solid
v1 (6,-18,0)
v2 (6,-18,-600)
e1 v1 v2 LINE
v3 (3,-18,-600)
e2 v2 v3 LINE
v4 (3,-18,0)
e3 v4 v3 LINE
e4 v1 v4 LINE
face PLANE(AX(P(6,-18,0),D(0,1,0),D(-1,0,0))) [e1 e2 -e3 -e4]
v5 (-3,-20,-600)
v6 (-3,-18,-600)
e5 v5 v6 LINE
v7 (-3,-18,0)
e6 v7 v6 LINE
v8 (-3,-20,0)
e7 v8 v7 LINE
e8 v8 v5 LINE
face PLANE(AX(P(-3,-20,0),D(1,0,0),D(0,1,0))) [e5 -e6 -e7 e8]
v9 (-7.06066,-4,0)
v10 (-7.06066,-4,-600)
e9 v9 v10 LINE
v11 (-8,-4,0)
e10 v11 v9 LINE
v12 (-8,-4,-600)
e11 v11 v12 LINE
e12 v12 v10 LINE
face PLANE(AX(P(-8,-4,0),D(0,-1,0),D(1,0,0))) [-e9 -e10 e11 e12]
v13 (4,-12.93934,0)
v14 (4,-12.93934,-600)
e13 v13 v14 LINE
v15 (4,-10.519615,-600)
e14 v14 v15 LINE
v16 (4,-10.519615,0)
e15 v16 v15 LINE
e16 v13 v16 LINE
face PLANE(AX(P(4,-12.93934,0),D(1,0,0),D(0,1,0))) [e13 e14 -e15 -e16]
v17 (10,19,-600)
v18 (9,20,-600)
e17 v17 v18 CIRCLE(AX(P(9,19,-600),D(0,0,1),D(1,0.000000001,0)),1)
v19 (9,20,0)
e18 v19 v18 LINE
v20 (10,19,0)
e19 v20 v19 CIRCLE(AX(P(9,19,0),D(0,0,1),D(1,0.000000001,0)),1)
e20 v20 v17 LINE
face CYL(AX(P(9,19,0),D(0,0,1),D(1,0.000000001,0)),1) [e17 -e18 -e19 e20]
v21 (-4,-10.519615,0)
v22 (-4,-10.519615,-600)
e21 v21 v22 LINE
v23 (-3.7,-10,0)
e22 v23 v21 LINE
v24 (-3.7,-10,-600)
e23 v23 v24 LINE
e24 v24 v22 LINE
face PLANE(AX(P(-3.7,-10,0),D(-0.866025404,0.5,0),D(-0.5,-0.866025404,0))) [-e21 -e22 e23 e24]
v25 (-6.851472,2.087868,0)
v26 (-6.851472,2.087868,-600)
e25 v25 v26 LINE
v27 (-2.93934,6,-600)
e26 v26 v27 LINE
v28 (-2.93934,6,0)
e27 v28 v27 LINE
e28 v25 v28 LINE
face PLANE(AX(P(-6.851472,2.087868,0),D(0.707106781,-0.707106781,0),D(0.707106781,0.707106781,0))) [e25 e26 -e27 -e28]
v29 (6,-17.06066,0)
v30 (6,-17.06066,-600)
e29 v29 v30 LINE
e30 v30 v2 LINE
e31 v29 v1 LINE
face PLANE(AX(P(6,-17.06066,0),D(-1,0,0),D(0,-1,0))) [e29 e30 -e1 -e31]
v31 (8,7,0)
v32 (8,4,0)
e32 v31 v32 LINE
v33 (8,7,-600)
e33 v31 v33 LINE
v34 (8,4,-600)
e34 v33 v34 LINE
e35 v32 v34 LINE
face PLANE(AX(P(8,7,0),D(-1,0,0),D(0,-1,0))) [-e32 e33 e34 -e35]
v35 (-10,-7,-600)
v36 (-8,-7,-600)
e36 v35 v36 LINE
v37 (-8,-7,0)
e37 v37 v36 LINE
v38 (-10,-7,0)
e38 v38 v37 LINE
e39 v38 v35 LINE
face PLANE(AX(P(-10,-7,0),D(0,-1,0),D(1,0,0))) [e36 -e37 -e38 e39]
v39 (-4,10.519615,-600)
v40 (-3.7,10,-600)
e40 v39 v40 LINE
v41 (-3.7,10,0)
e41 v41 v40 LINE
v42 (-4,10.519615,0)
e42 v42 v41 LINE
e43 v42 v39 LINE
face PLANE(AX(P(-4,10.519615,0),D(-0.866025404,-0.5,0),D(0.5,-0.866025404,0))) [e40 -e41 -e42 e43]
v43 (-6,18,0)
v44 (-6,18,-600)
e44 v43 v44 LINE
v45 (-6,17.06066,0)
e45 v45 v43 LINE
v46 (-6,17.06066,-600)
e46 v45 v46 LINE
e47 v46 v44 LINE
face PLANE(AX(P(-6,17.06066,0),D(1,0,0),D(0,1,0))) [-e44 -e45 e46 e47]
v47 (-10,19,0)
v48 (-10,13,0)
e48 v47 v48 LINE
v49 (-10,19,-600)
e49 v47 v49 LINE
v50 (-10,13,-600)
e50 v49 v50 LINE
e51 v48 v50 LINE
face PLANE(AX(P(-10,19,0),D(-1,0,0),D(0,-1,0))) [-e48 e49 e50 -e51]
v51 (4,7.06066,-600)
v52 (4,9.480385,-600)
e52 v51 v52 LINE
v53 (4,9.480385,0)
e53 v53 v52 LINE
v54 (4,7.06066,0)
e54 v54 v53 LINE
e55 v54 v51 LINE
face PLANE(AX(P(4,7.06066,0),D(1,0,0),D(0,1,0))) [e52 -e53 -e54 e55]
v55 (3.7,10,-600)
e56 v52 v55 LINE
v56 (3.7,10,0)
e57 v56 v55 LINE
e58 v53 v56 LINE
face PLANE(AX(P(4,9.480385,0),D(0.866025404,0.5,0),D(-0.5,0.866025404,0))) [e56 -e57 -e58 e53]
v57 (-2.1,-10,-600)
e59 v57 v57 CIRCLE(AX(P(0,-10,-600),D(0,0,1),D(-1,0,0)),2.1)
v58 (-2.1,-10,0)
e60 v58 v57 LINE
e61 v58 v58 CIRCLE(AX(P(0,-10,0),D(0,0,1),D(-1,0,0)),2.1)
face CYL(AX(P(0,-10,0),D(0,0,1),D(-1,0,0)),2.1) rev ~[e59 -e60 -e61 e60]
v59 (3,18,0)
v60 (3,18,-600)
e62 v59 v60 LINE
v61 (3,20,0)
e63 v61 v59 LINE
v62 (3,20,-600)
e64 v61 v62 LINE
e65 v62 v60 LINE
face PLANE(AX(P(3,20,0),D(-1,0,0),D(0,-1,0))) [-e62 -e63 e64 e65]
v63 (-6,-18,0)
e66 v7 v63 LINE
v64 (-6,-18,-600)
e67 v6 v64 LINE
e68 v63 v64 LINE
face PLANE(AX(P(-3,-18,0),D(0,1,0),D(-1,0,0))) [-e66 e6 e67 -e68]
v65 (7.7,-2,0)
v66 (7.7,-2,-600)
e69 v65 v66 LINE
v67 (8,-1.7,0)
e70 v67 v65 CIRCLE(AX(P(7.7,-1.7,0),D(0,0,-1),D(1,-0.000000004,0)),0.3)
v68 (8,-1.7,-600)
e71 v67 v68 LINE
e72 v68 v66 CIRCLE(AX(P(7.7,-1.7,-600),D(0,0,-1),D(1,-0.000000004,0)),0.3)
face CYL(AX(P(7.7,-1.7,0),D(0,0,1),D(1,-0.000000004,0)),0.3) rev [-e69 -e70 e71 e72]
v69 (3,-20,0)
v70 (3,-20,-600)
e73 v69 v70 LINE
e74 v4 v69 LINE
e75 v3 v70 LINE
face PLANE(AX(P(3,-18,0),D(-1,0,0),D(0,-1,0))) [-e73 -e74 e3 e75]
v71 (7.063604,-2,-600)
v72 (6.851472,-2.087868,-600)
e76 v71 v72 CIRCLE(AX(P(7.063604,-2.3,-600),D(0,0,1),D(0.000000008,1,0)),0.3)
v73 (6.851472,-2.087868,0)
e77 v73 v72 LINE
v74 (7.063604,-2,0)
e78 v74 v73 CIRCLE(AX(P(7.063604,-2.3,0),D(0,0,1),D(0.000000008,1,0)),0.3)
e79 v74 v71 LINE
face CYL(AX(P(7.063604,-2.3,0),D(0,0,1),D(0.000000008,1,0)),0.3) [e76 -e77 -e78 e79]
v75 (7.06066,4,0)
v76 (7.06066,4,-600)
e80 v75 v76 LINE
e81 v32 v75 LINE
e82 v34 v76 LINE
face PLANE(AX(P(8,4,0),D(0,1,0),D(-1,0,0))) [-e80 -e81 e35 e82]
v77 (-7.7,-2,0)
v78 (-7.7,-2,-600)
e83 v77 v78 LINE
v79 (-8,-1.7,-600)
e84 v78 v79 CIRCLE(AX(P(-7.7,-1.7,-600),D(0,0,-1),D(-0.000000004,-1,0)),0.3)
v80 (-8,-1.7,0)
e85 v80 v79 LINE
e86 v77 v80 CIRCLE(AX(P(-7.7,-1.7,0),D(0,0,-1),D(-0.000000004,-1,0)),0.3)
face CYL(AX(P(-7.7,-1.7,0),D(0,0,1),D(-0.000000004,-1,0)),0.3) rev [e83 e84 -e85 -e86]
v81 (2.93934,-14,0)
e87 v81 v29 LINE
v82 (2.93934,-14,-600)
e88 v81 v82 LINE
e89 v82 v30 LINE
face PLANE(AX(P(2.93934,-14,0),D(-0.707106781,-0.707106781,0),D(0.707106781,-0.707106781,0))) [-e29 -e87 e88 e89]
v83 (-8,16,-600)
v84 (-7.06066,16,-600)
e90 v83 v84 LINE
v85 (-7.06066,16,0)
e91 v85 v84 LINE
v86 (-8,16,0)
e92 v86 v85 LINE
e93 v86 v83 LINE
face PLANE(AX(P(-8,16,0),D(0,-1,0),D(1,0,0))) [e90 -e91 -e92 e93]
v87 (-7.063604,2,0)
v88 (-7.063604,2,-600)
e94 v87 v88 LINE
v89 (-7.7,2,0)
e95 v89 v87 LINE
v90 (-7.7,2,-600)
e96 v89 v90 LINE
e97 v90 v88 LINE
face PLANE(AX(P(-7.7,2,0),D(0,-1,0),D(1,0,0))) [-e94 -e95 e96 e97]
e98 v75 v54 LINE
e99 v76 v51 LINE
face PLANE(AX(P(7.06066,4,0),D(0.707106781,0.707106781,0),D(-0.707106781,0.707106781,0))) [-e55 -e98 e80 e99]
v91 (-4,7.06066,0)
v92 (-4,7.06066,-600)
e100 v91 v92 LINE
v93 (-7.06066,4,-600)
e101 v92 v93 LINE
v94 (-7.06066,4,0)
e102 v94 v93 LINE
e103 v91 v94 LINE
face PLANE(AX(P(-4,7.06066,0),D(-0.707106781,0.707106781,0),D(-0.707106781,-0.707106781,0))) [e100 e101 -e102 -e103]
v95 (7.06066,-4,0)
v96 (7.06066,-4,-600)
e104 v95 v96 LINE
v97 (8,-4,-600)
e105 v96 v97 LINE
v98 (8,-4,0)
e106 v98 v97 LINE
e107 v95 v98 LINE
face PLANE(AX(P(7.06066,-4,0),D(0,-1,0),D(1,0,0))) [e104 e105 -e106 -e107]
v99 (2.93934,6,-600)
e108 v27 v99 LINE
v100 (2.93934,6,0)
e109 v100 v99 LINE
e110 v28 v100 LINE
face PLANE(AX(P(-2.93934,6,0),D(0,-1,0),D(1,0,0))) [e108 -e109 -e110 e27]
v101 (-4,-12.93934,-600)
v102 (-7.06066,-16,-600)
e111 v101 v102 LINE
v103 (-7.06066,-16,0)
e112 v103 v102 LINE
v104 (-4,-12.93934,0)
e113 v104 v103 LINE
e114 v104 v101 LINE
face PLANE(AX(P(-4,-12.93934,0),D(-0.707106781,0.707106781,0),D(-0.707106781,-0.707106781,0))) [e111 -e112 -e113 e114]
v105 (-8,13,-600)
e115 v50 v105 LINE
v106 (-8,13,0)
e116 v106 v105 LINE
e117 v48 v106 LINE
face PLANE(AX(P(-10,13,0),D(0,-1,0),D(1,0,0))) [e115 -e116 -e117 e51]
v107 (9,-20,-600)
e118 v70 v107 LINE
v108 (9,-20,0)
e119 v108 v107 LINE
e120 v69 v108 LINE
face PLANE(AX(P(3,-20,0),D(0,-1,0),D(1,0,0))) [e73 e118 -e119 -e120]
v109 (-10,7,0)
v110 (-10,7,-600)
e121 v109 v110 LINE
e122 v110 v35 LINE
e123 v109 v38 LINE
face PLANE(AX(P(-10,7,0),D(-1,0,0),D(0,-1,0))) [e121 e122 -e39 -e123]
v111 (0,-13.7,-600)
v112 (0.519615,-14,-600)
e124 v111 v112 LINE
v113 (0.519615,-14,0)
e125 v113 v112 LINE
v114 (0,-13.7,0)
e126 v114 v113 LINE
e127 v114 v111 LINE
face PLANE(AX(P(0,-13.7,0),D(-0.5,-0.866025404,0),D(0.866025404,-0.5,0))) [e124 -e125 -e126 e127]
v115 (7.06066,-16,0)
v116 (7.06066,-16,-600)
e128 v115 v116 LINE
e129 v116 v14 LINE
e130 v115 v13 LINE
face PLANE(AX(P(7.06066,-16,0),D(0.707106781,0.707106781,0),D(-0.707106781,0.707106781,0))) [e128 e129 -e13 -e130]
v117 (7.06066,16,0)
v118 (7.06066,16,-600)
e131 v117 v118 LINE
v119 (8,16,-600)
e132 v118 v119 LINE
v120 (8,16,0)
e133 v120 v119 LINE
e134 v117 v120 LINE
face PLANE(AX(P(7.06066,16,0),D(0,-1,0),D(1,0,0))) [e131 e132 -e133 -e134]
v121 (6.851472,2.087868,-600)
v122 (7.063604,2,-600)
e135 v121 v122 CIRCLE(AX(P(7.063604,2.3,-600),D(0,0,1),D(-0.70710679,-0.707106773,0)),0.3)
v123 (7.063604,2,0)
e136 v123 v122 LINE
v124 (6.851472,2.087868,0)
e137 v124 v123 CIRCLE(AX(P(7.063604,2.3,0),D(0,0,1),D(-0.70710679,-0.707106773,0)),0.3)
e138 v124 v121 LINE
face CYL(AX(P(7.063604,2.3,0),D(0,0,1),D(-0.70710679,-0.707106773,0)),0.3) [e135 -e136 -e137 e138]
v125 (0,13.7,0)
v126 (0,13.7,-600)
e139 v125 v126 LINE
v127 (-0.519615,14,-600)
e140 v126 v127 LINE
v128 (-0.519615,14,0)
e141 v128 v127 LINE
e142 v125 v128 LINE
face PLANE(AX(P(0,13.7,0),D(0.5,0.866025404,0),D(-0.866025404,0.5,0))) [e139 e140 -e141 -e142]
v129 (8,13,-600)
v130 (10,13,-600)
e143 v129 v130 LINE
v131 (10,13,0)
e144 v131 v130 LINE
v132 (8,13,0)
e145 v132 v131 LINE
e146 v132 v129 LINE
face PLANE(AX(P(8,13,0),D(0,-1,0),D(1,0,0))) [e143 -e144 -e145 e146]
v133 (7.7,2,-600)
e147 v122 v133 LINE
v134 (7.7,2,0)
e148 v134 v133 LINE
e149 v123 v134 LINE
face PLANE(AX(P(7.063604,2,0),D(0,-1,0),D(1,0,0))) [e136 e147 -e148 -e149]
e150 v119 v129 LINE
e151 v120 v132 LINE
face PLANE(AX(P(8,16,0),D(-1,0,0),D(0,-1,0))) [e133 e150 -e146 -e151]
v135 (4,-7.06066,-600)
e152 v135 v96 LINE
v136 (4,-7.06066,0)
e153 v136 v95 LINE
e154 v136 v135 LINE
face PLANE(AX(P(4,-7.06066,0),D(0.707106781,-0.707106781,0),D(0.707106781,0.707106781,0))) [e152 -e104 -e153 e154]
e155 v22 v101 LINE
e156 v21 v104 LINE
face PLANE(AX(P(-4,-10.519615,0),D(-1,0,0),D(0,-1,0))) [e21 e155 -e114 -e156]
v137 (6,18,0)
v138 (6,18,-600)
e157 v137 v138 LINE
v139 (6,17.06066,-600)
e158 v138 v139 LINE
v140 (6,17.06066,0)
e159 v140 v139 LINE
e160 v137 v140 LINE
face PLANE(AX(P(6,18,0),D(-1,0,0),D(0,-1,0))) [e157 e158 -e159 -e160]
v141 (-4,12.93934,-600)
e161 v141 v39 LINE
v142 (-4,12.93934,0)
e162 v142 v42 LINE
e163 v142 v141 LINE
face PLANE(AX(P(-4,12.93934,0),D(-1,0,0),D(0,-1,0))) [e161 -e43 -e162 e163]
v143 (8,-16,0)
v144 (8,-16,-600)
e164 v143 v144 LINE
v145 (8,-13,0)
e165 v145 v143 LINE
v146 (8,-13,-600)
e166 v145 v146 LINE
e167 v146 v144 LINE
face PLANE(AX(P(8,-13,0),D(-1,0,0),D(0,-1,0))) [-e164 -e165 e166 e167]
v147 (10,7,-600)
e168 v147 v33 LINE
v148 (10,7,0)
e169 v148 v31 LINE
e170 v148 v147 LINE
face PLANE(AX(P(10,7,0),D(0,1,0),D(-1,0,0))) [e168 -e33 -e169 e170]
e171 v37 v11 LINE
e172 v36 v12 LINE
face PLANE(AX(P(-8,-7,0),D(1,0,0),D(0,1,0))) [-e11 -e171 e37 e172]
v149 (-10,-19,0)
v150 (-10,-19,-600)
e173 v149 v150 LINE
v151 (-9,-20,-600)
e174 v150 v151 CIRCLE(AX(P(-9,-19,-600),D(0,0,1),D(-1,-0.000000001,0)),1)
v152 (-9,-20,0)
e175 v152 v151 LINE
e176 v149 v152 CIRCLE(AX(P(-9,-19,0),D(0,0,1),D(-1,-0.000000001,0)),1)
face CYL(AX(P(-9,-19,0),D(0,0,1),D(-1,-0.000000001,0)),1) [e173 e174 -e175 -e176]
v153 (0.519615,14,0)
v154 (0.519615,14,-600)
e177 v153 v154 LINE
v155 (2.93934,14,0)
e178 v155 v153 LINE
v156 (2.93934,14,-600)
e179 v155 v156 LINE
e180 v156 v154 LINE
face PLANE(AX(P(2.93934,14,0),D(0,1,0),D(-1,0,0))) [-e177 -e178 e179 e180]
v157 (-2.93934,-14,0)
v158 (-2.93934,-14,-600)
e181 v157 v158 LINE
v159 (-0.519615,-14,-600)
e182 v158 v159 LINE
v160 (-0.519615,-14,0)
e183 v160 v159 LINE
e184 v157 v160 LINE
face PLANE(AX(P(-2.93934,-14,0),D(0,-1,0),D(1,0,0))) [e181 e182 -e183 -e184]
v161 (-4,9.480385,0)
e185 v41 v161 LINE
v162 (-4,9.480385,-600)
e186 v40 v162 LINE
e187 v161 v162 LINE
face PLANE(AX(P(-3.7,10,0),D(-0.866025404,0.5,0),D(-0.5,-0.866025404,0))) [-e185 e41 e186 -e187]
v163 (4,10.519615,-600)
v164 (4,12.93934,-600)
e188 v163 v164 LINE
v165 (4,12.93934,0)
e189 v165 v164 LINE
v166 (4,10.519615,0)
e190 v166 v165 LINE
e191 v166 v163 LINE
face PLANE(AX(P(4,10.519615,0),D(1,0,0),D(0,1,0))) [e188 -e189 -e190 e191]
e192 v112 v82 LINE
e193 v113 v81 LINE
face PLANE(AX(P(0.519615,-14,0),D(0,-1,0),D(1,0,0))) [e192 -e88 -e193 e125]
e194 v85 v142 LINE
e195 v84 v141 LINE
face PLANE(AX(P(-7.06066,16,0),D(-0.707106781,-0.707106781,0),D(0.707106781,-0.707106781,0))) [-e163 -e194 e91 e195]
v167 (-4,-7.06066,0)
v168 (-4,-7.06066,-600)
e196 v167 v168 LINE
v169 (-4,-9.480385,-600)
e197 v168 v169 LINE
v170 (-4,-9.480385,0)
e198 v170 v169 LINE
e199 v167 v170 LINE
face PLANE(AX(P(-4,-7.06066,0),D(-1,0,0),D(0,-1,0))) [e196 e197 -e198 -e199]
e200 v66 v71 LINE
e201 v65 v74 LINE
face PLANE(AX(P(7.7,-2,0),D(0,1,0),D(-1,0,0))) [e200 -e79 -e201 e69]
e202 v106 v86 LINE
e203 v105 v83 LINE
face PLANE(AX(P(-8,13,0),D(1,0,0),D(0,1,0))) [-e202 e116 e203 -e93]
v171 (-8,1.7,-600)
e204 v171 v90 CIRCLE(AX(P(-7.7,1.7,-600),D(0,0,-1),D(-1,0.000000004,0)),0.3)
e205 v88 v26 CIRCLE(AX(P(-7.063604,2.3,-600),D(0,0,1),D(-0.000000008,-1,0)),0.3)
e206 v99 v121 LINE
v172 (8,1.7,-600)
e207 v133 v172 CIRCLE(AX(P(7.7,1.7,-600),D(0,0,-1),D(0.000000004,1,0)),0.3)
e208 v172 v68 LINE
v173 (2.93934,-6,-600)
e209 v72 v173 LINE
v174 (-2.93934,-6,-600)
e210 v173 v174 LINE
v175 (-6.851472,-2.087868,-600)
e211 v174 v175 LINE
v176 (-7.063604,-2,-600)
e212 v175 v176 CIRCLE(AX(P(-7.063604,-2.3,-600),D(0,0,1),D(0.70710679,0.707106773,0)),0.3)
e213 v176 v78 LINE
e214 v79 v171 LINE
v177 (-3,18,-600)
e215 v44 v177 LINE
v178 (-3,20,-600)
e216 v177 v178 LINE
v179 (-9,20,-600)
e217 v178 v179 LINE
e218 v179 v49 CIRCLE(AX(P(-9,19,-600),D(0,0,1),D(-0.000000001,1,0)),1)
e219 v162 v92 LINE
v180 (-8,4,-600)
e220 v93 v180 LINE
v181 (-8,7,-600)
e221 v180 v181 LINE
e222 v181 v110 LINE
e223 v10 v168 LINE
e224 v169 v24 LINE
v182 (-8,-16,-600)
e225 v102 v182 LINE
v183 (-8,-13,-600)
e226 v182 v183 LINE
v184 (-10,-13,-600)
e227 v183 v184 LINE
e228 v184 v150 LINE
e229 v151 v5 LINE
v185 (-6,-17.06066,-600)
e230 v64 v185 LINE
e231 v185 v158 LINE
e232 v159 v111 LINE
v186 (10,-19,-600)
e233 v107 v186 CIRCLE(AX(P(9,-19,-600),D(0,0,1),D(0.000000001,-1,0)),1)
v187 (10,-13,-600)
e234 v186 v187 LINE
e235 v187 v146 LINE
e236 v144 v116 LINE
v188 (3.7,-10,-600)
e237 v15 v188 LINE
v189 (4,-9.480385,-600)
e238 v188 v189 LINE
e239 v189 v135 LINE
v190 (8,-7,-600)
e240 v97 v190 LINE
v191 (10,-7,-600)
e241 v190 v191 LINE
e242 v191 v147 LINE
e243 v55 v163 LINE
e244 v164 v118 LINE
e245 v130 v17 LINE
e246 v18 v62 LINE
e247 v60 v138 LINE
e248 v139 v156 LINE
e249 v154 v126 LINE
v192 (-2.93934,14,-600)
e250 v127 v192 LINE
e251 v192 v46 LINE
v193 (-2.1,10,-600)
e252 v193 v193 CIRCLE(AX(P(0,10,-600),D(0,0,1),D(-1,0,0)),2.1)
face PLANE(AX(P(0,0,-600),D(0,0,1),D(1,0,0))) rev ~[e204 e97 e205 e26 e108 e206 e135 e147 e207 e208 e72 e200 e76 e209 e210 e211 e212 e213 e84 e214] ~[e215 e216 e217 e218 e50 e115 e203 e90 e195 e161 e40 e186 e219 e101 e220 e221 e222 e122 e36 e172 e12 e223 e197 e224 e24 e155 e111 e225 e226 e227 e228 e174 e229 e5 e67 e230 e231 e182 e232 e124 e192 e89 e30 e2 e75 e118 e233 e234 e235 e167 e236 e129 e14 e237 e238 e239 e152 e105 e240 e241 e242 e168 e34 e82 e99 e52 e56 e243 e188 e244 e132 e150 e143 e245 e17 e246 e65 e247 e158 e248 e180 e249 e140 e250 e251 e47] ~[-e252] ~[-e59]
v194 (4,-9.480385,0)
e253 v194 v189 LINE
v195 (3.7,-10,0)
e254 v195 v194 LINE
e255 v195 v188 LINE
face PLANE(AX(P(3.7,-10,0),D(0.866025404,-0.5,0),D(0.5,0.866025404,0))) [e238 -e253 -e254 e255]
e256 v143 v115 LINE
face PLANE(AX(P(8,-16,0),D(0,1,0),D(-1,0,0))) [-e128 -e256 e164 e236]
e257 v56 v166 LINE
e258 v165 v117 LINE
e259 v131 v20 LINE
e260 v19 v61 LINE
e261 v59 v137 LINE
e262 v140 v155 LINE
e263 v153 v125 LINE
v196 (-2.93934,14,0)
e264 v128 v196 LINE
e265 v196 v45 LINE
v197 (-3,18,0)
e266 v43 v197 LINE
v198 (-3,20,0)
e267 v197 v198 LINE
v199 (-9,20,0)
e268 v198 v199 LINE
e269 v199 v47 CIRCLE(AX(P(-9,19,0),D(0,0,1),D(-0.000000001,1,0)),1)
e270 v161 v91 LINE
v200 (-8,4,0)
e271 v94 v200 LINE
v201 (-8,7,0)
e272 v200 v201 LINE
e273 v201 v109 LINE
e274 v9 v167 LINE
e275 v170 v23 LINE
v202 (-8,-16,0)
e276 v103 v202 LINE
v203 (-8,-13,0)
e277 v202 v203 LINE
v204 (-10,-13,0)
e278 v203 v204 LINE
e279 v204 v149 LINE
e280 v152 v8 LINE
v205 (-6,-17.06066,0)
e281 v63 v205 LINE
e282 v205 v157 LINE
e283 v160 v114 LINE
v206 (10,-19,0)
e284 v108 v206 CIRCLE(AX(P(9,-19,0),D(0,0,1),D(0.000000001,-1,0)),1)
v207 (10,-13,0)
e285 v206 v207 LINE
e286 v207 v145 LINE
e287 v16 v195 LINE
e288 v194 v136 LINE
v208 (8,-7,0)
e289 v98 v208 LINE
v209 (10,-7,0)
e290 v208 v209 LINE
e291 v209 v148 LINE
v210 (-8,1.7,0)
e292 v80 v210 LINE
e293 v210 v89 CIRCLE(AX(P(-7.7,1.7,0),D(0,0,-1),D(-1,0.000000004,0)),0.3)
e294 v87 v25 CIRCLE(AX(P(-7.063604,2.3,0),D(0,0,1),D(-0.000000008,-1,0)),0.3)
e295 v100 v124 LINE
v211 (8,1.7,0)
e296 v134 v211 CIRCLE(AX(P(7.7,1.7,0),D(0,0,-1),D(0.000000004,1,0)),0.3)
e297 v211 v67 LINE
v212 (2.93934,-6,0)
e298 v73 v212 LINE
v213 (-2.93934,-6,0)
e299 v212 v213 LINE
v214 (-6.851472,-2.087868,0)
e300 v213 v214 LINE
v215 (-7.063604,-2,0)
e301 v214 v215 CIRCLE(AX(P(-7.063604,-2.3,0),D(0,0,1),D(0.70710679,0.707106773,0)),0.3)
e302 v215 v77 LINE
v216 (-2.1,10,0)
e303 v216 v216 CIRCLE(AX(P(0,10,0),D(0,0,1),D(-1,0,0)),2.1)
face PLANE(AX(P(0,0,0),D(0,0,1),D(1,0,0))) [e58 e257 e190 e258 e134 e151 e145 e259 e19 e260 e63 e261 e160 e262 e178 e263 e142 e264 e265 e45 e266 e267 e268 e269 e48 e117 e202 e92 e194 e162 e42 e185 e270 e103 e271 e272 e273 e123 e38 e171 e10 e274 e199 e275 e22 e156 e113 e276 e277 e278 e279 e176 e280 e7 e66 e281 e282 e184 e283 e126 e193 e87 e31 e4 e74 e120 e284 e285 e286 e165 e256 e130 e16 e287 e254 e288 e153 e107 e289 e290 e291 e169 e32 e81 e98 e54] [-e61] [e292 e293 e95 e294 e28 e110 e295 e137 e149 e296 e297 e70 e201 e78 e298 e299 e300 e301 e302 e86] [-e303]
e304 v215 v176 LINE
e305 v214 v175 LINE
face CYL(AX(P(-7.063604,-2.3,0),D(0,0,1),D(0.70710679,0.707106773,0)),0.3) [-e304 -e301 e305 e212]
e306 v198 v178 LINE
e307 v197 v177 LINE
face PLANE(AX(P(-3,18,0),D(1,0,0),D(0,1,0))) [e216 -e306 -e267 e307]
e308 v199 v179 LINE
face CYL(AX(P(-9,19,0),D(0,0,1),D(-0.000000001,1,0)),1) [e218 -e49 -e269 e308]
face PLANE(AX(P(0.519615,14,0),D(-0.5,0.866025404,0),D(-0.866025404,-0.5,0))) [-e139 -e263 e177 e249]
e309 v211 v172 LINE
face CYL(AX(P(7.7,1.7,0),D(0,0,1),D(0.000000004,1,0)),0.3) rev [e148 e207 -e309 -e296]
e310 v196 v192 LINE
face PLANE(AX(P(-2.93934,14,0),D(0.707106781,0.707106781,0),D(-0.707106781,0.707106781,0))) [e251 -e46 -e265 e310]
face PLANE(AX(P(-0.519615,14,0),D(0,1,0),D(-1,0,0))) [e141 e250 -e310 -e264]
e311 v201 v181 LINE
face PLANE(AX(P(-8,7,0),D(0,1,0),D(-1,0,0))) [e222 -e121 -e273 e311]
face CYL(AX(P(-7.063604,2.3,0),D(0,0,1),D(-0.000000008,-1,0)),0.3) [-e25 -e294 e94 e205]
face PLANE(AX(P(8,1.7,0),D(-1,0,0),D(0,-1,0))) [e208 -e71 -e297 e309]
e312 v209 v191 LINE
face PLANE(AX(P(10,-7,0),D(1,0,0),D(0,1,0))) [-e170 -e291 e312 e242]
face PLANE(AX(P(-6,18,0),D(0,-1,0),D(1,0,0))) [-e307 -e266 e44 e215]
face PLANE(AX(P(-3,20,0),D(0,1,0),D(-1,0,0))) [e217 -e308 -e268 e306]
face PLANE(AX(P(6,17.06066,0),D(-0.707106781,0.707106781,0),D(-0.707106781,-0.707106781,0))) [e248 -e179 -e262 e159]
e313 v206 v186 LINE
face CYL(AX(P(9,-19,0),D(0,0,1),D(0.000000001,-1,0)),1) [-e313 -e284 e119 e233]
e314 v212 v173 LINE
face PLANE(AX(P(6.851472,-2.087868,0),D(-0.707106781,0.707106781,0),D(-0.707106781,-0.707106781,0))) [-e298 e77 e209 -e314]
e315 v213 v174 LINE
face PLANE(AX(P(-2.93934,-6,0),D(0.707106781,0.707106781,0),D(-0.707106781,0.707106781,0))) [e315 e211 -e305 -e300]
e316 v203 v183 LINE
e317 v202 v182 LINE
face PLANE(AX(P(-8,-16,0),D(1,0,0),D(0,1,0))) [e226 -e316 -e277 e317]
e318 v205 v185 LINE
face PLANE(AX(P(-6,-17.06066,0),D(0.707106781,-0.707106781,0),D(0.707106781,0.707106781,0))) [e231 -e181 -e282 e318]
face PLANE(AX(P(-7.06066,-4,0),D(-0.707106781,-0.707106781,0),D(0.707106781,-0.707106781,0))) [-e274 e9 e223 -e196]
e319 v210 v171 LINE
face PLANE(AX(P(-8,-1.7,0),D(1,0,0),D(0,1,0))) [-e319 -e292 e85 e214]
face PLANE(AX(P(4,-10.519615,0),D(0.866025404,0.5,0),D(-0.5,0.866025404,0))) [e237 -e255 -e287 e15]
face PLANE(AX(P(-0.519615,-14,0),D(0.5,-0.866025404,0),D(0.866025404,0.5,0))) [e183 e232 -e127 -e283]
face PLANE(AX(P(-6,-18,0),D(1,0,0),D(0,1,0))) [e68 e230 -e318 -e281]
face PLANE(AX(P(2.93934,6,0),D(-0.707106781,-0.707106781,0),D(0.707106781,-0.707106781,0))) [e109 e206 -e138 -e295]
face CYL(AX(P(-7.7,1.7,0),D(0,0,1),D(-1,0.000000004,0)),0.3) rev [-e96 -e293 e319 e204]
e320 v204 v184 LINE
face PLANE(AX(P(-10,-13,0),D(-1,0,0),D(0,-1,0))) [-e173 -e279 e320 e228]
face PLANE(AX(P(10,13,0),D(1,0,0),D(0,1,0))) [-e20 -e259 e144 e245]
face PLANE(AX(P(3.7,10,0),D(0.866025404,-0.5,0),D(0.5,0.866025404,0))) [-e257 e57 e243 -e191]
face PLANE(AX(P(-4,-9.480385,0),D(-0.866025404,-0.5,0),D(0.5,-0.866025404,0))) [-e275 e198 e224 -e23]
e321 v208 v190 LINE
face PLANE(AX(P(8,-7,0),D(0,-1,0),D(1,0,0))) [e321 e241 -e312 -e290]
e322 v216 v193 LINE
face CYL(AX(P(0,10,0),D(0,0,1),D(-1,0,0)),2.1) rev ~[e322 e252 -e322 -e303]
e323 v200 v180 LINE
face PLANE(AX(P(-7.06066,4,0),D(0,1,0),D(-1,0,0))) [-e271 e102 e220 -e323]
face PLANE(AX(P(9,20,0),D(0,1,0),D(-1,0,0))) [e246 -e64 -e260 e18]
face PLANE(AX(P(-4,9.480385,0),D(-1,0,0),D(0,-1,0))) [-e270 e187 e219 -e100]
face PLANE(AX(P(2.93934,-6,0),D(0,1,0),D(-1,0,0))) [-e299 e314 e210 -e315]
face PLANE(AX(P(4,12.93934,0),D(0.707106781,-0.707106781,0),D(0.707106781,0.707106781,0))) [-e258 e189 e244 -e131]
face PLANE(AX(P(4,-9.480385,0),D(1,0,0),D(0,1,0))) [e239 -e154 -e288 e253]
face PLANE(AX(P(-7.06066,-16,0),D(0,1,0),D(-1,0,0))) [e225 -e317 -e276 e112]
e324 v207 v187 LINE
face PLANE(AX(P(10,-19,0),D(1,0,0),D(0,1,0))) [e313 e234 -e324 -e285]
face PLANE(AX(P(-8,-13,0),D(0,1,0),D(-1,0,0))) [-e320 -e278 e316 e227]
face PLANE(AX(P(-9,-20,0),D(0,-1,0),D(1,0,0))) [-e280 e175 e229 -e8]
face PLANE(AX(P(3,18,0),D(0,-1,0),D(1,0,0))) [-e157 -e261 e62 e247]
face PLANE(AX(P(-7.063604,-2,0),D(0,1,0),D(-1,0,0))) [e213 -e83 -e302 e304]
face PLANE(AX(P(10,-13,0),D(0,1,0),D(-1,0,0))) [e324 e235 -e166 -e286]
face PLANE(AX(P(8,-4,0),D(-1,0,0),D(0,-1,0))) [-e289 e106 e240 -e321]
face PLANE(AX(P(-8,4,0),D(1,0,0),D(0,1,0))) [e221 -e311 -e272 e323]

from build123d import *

# Parameters (mm, degrees)
SKETCH1_R           = 2.1
BOSS_EXTRUDE1_DEPTH = 600


with BuildPart() as part:
    # Sketch1 → Boss-Extrude1 (new body)
    with BuildSketch(Plane.XY):
        with BuildLine():
            Line((-8, -16), (-8, -13))
            Line((-8, -13), (-10, -13))
            Line((-10, -13), (-10, -19))
            ThreePointArc((-10, -19), (-9.707106781, -19.707106781), (-9, -20))
            Line((-9, -20), (-3, -20))
            Line((-3, -20), (-3, -18))
            Line((-3, -18), (-6, -18))
            Line((-6, -18), (-6, -17.060660172))
            Line((-6, -17.060660172), (-2.939339828, -14))
            Line((-2.939339828, -14), (-0.519615242, -14))
            Line((-0.519615242, -14), (0, -13.7))
            Line((0, -13.7), (0.519615242, -14))
            Line((0.519615242, -14), (2.939339828, -14))
            Line((2.939339828, -14), (6, -17.060660172))
            Line((6, -17.060660172), (6, -18))
            Line((6, -18), (3, -18))
            Line((3, -18), (3, -20))
            Line((3, -20), (9, -20))
            ThreePointArc((9, -20), (9.707106781, -19.707106781), (10, -19))
            Line((10, -19), (10, -13))
            Line((10, -13), (8, -13))
            Line((8, -13), (8, -16))
            Line((8, -16), (7.060660172, -16))
            Line((7.060660172, -16), (4, -12.939339828))
            Line((4, -12.939339828), (4, -10.519615242))
            Line((4, -10.519615242), (3.7, -10))
            Line((3.7, -10), (4, -9.480384758))
            Line((4, -9.480384758), (4, -7.060660172))
            Line((4, -7.060660172), (7.060660172, -4))
            Line((7.060660172, -4), (8, -4))
            Line((8, -4), (8, -7))
            Line((8, -7), (10, -7))
            Line((10, -7), (10, 7))
            Line((10, 7), (8, 7))
            Line((8, 7), (8, 4))
            Line((8, 4), (7.060660172, 4))
            Line((7.060660172, 4), (4, 7.060660172))
            Line((4, 7.060660172), (4, 9.480384758))
            Line((4, 9.480384758), (3.7, 10))
            Line((3.7, 10), (4, 10.519615242))
            Line((4, 10.519615242), (4, 12.939339828))
            Line((4, 12.939339828), (7.060660172, 16))
            Line((7.060660172, 16), (8, 16))
            Line((8, 16), (8, 13))
            Line((8, 13), (10, 13))
            Line((10, 13), (10, 19))
            ThreePointArc((10, 19), (9.707106781, 19.707106781), (9, 20))
            Line((9, 20), (3, 20))
            Line((3, 20), (3, 18))
            Line((3, 18), (6, 18))
            Line((6, 18), (6, 17.060660172))
            Line((6, 17.060660172), (2.939339828, 14))
            Line((2.939339828, 14), (0.519615242, 14))
            Line((0.519615242, 14), (0, 13.7))
            Line((0, 13.7), (-0.519615242, 14))
            Line((-0.519615242, 14), (-2.939339828, 14))
            Line((-2.939339828, 14), (-6, 17.060660172))
            Line((-6, 17.060660172), (-6, 18))
            Line((-6, 18), (-3, 18))
            Line((-3, 18), (-3, 20))
            Line((-3, 20), (-9, 20))
            ThreePointArc((-9, 20), (-9.707106781, 19.707106781), (-10, 19))
            Line((-10, 19), (-10, 13))
            Line((-10, 13), (-8, 13))
            Line((-8, 13), (-8, 16))
            Line((-8, 16), (-7.060660172, 16))
            Line((-7.060660172, 16), (-4, 12.939339828))
            Line((-4, 12.939339828), (-4, 10.519615242))
            Line((-4, 10.519615242), (-3.7, 10))
            Line((-3.7, 10), (-4, 9.480384758))
            Line((-4, 9.480384758), (-4, 7.060660172))
            Line((-4, 7.060660172), (-7.060660172, 4))
            Line((-7.060660172, 4), (-8, 4))
            Line((-8, 4), (-8, 7))
            Line((-8, 7), (-10, 7))
            Line((-10, 7), (-10, -7))
            Line((-10, -7), (-8, -7))
            Line((-8, -7), (-8, -4))
            Line((-8, -4), (-7.060660172, -4))
            Line((-7.060660172, -4), (-4, -7.060660172))
            Line((-4, -7.060660172), (-4, -9.480384758))
            Line((-4, -9.480384758), (-3.7, -10))
            Line((-3.7, -10), (-4, -10.519615242))
            Line((-4, -10.519615242), (-4, -12.939339828))
            Line((-4, -12.939339828), (-7.060660172, -16))
            Line((-7.060660172, -16), (-8, -16))
        make_face()
        with Locations(Location((0, -10, 0), (0, 0, 180))):
            Circle(SKETCH1_R, mode=Mode.SUBTRACT)
        with Locations(Location((0, 10, 0), (0, 0, 180))):
            Circle(SKETCH1_R, mode=Mode.SUBTRACT)
        with BuildLine():
            Line((-7.063603897, -2), (-7.7, -2))
            ThreePointArc((-7.7, -2), (-7.912132034, -1.912132034), (-8, -1.7))
            Line((-8, -1.7), (-8, 1.7))
            ThreePointArc((-8, 1.7), (-7.912132034, 1.912132034), (-7.7, 2))
            Line((-7.7, 2), (-7.063603897, 2))
            ThreePointArc((-7.063603897, 2), (-6.948798867, 2.02283614), (-6.851471863, 2.087867966))
            Line((-6.851471863, 2.087867966), (-2.939339828, 6))
            Line((-2.939339828, 6), (2.939339828, 6))
            Line((2.939339828, 6), (6.851471863, 2.087867966))
            ThreePointArc((6.851471863, 2.087867966), (6.948798867, 2.02283614), (7.063603897, 2))
            Line((7.063603897, 2), (7.7, 2))
            ThreePointArc((7.7, 2), (7.912132034, 1.912132034), (8, 1.7))
            Line((8, 1.7), (8, -1.7))
            ThreePointArc((8, -1.7), (7.912132034, -1.912132034), (7.7, -2))
            Line((7.7, -2), (7.063603897, -2))
            ThreePointArc((7.063603897, -2), (6.948798867, -2.02283614), (6.851471863, -2.087867966))
            Line((6.851471863, -2.087867966), (2.939339828, -6))
            Line((2.939339828, -6), (-2.939339828, -6))
            Line((-2.939339828, -6), (-6.851471863, -2.087867966))
            ThreePointArc((-6.851471863, -2.087867966), (-6.948798867, -2.02283614), (-7.063603897, -2))
        make_face(mode=Mode.SUBTRACT)
    extrude(amount=-BOSS_EXTRUDE1_DEPTH)


solid = part.part
